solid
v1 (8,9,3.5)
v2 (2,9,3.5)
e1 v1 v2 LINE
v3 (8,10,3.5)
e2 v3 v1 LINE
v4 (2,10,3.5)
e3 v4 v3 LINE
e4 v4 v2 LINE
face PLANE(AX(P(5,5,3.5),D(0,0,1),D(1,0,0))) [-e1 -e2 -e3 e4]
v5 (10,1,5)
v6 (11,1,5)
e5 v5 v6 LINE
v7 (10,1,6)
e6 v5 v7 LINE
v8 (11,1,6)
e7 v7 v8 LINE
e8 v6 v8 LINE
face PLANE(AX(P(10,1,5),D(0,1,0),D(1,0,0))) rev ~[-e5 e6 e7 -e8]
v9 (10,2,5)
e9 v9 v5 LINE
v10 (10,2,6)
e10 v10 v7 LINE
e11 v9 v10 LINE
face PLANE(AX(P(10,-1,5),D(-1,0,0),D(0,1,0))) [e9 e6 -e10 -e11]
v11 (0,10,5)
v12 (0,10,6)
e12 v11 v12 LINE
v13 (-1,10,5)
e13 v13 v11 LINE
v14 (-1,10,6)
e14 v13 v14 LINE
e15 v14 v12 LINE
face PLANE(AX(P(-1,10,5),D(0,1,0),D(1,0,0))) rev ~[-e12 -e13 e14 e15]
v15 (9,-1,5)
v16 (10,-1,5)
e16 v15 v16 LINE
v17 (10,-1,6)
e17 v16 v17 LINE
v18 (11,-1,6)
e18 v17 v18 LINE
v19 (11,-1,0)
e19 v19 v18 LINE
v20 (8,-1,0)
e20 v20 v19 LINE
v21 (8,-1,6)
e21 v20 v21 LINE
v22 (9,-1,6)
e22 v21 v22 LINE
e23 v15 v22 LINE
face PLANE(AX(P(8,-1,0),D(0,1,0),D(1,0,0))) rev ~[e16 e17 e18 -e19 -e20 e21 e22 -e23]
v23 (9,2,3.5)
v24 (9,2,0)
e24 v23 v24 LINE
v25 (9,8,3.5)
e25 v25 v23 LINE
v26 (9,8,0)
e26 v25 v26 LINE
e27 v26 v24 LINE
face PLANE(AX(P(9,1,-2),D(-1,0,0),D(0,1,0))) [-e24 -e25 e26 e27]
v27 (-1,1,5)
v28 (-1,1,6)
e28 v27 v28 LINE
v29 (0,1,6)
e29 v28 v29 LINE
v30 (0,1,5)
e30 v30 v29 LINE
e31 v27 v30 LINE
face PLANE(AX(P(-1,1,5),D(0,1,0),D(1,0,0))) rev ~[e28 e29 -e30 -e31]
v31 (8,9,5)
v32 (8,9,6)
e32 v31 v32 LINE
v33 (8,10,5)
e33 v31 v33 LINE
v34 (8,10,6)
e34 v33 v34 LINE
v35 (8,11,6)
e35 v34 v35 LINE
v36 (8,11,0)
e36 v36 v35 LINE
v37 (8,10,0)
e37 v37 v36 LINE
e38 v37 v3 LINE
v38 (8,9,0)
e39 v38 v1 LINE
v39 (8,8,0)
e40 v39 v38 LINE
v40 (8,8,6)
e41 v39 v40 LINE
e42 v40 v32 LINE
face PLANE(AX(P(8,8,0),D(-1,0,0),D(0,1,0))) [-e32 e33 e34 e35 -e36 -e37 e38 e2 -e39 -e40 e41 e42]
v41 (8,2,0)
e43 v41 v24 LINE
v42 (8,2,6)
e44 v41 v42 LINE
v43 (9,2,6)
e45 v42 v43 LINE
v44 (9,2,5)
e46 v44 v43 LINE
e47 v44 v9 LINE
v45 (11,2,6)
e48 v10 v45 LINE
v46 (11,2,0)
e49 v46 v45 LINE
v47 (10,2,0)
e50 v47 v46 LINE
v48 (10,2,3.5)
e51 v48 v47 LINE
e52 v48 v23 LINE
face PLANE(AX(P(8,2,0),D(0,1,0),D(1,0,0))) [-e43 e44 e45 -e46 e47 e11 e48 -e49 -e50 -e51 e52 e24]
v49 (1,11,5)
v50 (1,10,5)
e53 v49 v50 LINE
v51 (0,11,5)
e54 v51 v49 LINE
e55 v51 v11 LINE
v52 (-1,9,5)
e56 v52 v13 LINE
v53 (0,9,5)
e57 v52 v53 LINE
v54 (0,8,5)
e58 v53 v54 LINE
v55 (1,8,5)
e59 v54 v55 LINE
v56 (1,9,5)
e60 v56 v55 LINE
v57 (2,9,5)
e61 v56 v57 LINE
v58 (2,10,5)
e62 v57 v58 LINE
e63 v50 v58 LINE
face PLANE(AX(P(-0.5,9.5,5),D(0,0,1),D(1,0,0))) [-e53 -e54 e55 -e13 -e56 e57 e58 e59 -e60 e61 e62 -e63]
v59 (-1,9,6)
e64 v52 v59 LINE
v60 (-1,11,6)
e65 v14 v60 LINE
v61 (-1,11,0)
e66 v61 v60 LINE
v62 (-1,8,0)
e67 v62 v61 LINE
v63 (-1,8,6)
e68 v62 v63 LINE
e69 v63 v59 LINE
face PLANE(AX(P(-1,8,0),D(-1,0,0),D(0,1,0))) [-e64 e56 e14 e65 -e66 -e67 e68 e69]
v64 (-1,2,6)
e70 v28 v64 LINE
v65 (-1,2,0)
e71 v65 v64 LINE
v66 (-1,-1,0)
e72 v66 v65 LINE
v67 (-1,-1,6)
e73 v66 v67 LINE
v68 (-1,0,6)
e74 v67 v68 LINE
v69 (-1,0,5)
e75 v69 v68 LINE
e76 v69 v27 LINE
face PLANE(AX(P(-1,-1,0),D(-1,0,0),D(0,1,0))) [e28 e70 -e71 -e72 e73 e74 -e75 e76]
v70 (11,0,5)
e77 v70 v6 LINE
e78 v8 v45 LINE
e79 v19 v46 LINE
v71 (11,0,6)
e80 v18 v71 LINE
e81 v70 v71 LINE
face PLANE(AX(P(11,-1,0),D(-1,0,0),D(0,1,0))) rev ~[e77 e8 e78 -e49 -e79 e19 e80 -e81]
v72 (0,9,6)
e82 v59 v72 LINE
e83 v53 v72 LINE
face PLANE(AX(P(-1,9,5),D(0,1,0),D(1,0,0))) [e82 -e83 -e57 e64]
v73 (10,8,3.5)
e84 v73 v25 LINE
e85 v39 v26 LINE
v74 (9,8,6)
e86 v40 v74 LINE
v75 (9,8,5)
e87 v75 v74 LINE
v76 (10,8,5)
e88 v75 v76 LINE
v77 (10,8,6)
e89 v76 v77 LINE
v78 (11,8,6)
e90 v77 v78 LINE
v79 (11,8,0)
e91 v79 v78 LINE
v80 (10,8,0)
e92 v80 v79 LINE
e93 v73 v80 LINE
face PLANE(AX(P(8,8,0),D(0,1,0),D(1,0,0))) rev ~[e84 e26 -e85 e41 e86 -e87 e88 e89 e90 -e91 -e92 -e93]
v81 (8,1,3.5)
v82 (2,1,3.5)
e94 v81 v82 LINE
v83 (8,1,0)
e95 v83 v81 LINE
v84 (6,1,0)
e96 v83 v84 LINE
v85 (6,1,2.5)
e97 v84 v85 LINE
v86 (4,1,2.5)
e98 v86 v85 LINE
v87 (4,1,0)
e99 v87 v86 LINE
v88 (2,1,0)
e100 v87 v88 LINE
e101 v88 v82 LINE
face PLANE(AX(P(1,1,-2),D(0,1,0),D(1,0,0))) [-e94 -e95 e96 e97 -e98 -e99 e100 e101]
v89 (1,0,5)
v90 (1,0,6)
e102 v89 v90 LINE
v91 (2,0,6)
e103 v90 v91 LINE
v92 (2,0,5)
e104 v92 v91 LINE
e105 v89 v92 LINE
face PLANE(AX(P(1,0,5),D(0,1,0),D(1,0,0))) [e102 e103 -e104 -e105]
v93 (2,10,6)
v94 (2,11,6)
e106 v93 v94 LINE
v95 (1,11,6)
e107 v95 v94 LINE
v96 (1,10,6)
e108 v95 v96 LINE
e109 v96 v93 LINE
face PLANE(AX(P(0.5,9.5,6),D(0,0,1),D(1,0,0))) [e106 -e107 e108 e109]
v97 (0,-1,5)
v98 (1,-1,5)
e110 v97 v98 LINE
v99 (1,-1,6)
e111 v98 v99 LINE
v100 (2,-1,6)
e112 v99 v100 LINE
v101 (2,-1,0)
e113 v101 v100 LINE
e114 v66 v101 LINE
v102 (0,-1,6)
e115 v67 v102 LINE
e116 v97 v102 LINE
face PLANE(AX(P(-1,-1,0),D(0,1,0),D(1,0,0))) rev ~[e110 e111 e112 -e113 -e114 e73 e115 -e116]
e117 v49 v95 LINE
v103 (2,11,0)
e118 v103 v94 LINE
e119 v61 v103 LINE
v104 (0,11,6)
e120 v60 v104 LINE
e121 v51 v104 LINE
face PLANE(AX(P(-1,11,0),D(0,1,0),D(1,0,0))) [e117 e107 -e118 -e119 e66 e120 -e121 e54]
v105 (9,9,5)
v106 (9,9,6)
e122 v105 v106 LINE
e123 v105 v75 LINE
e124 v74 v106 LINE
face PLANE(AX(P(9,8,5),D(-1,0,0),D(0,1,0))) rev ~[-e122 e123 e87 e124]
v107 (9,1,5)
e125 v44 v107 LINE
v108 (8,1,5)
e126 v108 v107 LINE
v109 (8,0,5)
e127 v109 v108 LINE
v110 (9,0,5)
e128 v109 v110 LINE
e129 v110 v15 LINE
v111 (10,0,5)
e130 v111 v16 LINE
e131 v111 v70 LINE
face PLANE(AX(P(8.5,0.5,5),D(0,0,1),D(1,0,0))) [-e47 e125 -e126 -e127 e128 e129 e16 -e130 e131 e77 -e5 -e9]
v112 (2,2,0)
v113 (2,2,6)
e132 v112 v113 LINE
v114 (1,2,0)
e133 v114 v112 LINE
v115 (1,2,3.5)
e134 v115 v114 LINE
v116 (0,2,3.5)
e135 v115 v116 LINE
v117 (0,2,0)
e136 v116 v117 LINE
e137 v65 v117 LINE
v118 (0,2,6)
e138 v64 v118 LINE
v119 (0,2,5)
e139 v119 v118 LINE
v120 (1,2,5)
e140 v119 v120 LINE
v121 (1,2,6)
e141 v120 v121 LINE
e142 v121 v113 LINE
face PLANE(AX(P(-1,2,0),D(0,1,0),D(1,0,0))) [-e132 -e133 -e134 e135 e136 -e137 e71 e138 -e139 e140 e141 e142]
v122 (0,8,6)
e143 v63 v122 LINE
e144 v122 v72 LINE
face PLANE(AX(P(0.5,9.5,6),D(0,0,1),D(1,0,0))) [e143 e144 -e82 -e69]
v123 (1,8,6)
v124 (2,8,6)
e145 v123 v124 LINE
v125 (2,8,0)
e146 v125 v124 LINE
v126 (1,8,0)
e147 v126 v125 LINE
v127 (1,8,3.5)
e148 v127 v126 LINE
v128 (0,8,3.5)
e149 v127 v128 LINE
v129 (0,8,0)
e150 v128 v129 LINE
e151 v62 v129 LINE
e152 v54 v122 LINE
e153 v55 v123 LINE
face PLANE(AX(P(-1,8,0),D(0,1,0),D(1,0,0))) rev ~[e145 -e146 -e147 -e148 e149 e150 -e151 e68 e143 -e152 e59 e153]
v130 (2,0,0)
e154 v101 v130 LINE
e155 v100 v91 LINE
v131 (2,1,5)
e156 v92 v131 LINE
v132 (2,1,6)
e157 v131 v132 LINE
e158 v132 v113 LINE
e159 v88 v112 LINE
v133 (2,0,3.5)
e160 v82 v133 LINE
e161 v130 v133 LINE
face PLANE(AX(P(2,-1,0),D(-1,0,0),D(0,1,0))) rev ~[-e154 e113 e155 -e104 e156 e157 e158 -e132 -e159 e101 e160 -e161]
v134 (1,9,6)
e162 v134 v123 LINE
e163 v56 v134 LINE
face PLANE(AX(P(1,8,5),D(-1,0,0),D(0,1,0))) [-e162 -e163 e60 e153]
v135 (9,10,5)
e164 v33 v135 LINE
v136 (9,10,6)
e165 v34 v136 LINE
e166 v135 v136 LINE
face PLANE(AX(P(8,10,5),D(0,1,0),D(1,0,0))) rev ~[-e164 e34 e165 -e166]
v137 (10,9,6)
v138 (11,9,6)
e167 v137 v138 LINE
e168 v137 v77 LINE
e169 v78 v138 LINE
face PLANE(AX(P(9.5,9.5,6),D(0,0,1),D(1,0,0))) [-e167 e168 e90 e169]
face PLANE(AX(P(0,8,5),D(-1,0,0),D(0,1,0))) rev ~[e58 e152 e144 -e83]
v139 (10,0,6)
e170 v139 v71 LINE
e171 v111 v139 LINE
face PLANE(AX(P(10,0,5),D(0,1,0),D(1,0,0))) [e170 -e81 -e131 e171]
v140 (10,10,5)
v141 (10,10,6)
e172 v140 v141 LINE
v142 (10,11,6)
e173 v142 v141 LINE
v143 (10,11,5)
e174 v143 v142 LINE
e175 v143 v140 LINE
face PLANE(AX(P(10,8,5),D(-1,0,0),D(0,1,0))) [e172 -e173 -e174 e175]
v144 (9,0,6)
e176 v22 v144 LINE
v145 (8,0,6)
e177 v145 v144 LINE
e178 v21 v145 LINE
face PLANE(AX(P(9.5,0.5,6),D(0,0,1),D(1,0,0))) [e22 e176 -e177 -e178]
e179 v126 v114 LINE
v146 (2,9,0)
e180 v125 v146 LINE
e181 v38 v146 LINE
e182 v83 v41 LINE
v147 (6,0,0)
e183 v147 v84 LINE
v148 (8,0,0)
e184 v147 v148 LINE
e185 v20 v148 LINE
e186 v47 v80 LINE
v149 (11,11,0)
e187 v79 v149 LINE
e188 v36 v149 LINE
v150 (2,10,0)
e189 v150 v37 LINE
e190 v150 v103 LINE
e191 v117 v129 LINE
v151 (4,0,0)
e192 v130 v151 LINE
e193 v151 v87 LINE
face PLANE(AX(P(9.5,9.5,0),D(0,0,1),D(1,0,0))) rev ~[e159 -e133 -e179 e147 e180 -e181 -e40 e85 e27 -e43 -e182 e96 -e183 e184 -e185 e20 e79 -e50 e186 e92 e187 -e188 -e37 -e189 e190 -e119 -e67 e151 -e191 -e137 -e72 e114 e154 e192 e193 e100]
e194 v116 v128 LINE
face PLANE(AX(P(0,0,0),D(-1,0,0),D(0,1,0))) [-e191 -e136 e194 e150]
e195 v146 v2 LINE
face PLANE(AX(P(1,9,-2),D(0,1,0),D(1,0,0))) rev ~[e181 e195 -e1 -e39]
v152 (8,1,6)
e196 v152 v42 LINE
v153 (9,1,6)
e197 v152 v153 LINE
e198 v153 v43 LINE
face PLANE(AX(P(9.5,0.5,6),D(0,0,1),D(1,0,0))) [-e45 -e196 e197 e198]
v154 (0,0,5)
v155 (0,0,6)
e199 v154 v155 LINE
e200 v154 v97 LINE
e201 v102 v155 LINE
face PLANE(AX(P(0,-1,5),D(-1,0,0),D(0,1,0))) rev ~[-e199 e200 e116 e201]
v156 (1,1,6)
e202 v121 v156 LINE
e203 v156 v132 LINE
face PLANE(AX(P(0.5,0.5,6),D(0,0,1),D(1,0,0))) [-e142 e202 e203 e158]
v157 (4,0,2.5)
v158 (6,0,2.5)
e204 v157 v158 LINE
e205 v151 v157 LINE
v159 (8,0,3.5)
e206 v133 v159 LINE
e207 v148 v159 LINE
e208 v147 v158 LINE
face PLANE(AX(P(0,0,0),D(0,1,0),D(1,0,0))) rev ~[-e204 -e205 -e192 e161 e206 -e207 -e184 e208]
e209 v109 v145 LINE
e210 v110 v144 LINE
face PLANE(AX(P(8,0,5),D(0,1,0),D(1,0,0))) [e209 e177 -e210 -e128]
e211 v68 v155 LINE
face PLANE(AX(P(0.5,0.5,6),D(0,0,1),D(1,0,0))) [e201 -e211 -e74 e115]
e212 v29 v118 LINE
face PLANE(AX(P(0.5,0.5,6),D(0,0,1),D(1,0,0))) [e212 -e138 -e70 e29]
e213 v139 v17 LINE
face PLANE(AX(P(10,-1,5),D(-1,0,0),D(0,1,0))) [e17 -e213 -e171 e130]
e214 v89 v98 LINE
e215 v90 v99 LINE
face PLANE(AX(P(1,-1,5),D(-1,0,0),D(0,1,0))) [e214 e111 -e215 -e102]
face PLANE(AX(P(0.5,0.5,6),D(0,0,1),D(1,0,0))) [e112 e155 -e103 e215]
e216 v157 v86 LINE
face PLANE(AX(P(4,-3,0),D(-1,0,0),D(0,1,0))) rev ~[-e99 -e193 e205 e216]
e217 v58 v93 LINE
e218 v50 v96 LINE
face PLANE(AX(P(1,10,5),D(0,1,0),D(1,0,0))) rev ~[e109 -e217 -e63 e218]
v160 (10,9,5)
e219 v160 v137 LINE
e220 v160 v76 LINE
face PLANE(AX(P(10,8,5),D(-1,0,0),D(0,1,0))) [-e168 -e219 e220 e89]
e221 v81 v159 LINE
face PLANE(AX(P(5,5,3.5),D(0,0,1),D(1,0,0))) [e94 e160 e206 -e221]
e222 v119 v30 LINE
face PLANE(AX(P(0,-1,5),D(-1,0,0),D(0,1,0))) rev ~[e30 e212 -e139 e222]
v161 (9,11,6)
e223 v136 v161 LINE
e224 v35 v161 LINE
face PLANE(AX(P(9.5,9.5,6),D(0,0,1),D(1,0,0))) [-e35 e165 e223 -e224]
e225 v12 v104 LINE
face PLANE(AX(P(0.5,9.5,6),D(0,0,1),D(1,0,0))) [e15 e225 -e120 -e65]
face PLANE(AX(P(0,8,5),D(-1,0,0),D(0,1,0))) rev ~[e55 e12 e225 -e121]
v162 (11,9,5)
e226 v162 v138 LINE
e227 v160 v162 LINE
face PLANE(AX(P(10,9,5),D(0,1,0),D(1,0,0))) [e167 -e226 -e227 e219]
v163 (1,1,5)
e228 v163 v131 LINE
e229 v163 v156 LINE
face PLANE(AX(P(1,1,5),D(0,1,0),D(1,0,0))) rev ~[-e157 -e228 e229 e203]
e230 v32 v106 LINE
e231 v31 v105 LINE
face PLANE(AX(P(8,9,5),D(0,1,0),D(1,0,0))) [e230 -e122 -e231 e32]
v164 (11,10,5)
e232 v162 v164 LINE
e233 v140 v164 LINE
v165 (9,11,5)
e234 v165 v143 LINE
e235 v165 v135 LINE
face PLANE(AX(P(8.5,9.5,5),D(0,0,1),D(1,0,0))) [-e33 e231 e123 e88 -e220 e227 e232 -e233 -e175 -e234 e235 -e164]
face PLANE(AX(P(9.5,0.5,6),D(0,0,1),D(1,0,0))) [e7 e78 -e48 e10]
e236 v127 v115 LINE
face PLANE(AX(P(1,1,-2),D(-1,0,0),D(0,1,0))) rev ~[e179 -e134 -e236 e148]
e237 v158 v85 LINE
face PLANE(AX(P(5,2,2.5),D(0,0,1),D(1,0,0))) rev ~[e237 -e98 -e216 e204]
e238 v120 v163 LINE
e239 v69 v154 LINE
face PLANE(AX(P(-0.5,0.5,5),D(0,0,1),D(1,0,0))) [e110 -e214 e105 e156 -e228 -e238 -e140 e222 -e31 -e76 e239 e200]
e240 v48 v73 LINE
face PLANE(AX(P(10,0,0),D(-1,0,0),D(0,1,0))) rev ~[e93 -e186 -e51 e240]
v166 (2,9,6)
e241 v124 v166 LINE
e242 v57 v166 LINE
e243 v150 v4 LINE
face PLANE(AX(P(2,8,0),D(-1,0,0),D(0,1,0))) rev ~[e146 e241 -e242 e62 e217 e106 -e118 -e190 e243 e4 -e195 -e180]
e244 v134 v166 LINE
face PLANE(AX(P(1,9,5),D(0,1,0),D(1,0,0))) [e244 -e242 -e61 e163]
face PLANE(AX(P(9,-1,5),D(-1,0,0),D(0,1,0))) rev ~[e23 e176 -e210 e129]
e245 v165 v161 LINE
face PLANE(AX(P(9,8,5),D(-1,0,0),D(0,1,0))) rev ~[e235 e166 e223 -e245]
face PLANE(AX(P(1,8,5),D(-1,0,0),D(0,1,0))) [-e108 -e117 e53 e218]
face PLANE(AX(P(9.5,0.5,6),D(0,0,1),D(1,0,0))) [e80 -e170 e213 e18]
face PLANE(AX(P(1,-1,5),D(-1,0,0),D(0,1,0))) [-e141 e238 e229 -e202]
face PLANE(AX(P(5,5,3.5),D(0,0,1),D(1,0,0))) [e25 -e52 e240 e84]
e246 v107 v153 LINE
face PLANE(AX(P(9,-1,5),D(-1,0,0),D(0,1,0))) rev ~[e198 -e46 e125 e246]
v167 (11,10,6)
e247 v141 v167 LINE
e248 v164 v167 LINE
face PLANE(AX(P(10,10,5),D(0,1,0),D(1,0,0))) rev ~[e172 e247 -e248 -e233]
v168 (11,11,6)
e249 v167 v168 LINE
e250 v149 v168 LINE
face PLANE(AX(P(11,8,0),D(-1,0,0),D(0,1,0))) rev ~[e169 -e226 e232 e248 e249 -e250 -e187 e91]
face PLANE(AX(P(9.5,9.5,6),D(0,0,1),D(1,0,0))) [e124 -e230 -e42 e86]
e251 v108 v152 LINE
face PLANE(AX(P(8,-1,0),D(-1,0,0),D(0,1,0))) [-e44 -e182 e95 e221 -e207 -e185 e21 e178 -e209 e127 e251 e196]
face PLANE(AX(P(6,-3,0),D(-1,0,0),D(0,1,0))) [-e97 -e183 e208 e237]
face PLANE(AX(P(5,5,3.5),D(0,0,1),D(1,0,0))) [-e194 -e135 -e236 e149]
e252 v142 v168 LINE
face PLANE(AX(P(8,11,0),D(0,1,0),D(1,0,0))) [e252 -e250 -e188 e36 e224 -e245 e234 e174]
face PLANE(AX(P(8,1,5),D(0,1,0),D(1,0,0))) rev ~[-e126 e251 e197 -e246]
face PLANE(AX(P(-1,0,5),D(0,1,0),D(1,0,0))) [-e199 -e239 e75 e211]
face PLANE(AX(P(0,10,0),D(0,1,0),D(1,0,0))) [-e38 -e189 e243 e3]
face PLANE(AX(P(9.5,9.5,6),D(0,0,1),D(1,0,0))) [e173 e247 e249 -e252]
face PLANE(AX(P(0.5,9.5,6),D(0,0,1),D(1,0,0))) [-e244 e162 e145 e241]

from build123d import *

# Parameters (mm, degrees)
BOX009_W     = 1
BOX009_H     = 1
BOX009_DEPTH = 1
BOX008_W     = 1
BOX008_H     = 1
BOX008_DEPTH = 1
BOX007_W     = 1
BOX007_H     = 1
BOX007_DEPTH = 1
BOX006_W     = 1
BOX006_H     = 1
BOX006_DEPTH = 1
BOX005_W     = 1
BOX005_H     = 1
BOX005_DEPTH = 1
BOX003_W     = 3
BOX003_H     = 3
BOX003_DEPTH = 6
BOX015_W     = 1
BOX015_H     = 1
BOX015_DEPTH = 1
BOX014_W     = 1
BOX014_H     = 1
BOX014_DEPTH = 1
BOX013_W     = 1
BOX013_H     = 1
BOX013_DEPTH = 1
BOX012_W     = 1
BOX012_H     = 1
BOX012_DEPTH = 1
BOX011_W     = 1
BOX011_H     = 1
BOX011_DEPTH = 1
BOX010_W     = 3
BOX010_H     = 3
BOX010_DEPTH = 6
BOX021_W     = 1
BOX021_H     = 1
BOX021_DEPTH = 1
BOX020_W     = 1
BOX020_H     = 1
BOX020_DEPTH = 1
BOX019_W     = 1
BOX019_H     = 1
BOX019_DEPTH = 1
BOX018_W     = 1
BOX018_H     = 1
BOX018_DEPTH = 1
BOX017_W     = 1
BOX017_H     = 1
BOX017_DEPTH = 1
BOX016_W     = 3
BOX016_H     = 3
BOX016_DEPTH = 6
BOX027_W     = 1
BOX027_H     = 1
BOX027_DEPTH = 1
BOX026_W     = 1
BOX026_H     = 1
BOX026_DEPTH = 1
BOX025_W     = 1
BOX025_H     = 1
BOX025_DEPTH = 1
BOX024_W     = 1
BOX024_H     = 1
BOX024_DEPTH = 1
BOX023_W     = 1
BOX023_H     = 1
BOX023_DEPTH = 1
BOX022_W     = 3
BOX022_H     = 3
BOX022_DEPTH = 6
BOX002_W     = 2
BOX002_H     = 10
BOX002_DEPTH = 2.5
BOX001_W     = 8
BOX001_H     = 8
BOX001_DEPTH = 10
BOX_W        = 10
BOX_H        = 10
BOX_DEPTH    = 3.5


with BuildPart() as cubo009:
    # Box009 → Box009 (new body)
    with BuildSketch(Plane(origin=(-2, 1, 5), x_dir=(1, 0, 0), z_dir=(0, 0, 1))):
        with Locations((0.5, 0.5)):
            Rectangle(BOX009_W, BOX009_H)
    extrude(amount=BOX009_DEPTH)


with BuildPart() as cubo008:
    # Box008 → Box008 (new body)
    with BuildSketch(Plane(origin=(-4, 1, 5), x_dir=(1, 0, 0), z_dir=(0, 0, 1))):
        with Locations((0.5, 0.5)):
            Rectangle(BOX008_W, BOX008_H)
    extrude(amount=BOX008_DEPTH)


with BuildPart() as cubo007:
    # Box007 → Box007 (new body)
    with BuildSketch(Plane(origin=(-3, 1, 5), x_dir=(1, 0, 0), z_dir=(0, 0, 1))):
        with Locations((0.5, 0.5)):
            Rectangle(BOX007_W, BOX007_H)
    extrude(amount=BOX007_DEPTH)


with BuildPart() as cubo006:
    # Box006 → Box006 (new body)
    with BuildSketch(Plane(origin=(-3, 2, 5), x_dir=(1, 0, 0), z_dir=(0, 0, 1))):
        with Locations((0.5, 0.5)):
            Rectangle(BOX006_W, BOX006_H)
    extrude(amount=BOX006_DEPTH)


with BuildPart() as cubo005:
    # Box005 → Box005 (new body)
    with BuildSketch(Plane(origin=(-3, 0, 5), x_dir=(1, 0, 0), z_dir=(0, 0, 1))):
        with Locations((0.5, 0.5)):
            Rectangle(BOX005_W, BOX005_H)
    extrude(amount=BOX005_DEPTH)


with BuildPart() as cut006:
    # Box003 → Box003 (new body)
    with BuildSketch(Plane(origin=(-4, 0, 0), x_dir=(1, 0, 0), z_dir=(0, 0, 1))):
        with Locations((1.5, 1.5)):
            Rectangle(BOX003_W, BOX003_H)
    extrude(amount=BOX003_DEPTH)

    # Cut002: cut Cubo005
    add(cubo005.part, mode=Mode.SUBTRACT)

    # Cut003: cut Cubo006
    add(cubo006.part, mode=Mode.SUBTRACT)

    # Cut004: cut Cubo007
    add(cubo007.part, mode=Mode.SUBTRACT)

    # Cut005: cut Cubo008
    add(cubo008.part, mode=Mode.SUBTRACT)

    # Cut006: cut Cubo009
    add(cubo009.part, mode=Mode.SUBTRACT)


with BuildPart() as cut006_1:
    # Cut006 placement: moved
    add(cut006.part.moved(Location((12, -1, 0))))


with BuildPart() as cubo015:
    # Box015 → Box015 (new body)
    with BuildSketch(Plane(origin=(-2, 1, 5), x_dir=(1, 0, 0), z_dir=(0, 0, 1))):
        with Locations((0.5, 0.5)):
            Rectangle(BOX015_W, BOX015_H)
    extrude(amount=BOX015_DEPTH)


with BuildPart() as cubo014:
    # Box014 → Box014 (new body)
    with BuildSketch(Plane(origin=(-4, 1, 5), x_dir=(1, 0, 0), z_dir=(0, 0, 1))):
        with Locations((0.5, 0.5)):
            Rectangle(BOX014_W, BOX014_H)
    extrude(amount=BOX014_DEPTH)


with BuildPart() as cubo013:
    # Box013 → Box013 (new body)
    with BuildSketch(Plane(origin=(-3, 1, 5), x_dir=(1, 0, 0), z_dir=(0, 0, 1))):
        with Locations((0.5, 0.5)):
            Rectangle(BOX013_W, BOX013_H)
    extrude(amount=BOX013_DEPTH)


with BuildPart() as cubo012:
    # Box012 → Box012 (new body)
    with BuildSketch(Plane(origin=(-3, 2, 5), x_dir=(1, 0, 0), z_dir=(0, 0, 1))):
        with Locations((0.5, 0.5)):
            Rectangle(BOX012_W, BOX012_H)
    extrude(amount=BOX012_DEPTH)


with BuildPart() as cubo011:
    # Box011 → Box011 (new body)
    with BuildSketch(Plane(origin=(-3, 0, 5), x_dir=(1, 0, 0), z_dir=(0, 0, 1))):
        with Locations((0.5, 0.5)):
            Rectangle(BOX011_W, BOX011_H)
    extrude(amount=BOX011_DEPTH)


with BuildPart() as cut011:
    # Box010 → Box010 (new body)
    with BuildSketch(Plane(origin=(-4, 0, 0), x_dir=(1, 0, 0), z_dir=(0, 0, 1))):
        with Locations((1.5, 1.5)):
            Rectangle(BOX010_W, BOX010_H)
    extrude(amount=BOX010_DEPTH)

    # Cut007: cut Cubo011
    add(cubo011.part, mode=Mode.SUBTRACT)

    # Cut008: cut Cubo012
    add(cubo012.part, mode=Mode.SUBTRACT)

    # Cut009: cut Cubo013
    add(cubo013.part, mode=Mode.SUBTRACT)

    # Cut010: cut Cubo014
    add(cubo014.part, mode=Mode.SUBTRACT)

    # Cut011: cut Cubo015
    add(cubo015.part, mode=Mode.SUBTRACT)


with BuildPart() as cut011_1:
    # Cut011 placement: moved
    add(cut011.part.moved(Location((3, -1, 0))))


with BuildPart() as cubo021:
    # Box021 → Box021 (new body)
    with BuildSketch(Plane(origin=(-2, 1, 5), x_dir=(1, 0, 0), z_dir=(0, 0, 1))):
        with Locations((0.5, 0.5)):
            Rectangle(BOX021_W, BOX021_H)
    extrude(amount=BOX021_DEPTH)


with BuildPart() as cubo020:
    # Box020 → Box020 (new body)
    with BuildSketch(Plane(origin=(-4, 1, 5), x_dir=(1, 0, 0), z_dir=(0, 0, 1))):
        with Locations((0.5, 0.5)):
            Rectangle(BOX020_W, BOX020_H)
    extrude(amount=BOX020_DEPTH)


with BuildPart() as cubo019:
    # Box019 → Box019 (new body)
    with BuildSketch(Plane(origin=(-3, 1, 5), x_dir=(1, 0, 0), z_dir=(0, 0, 1))):
        with Locations((0.5, 0.5)):
            Rectangle(BOX019_W, BOX019_H)
    extrude(amount=BOX019_DEPTH)


with BuildPart() as cubo018:
    # Box018 → Box018 (new body)
    with BuildSketch(Plane(origin=(-3, 2, 5), x_dir=(1, 0, 0), z_dir=(0, 0, 1))):
        with Locations((0.5, 0.5)):
            Rectangle(BOX018_W, BOX018_H)
    extrude(amount=BOX018_DEPTH)


with BuildPart() as cubo017:
    # Box017 → Box017 (new body)
    with BuildSketch(Plane(origin=(-3, 0, 5), x_dir=(1, 0, 0), z_dir=(0, 0, 1))):
        with Locations((0.5, 0.5)):
            Rectangle(BOX017_W, BOX017_H)
    extrude(amount=BOX017_DEPTH)


with BuildPart() as cut016:
    # Box016 → Box016 (new body)
    with BuildSketch(Plane(origin=(-4, 0, 0), x_dir=(1, 0, 0), z_dir=(0, 0, 1))):
        with Locations((1.5, 1.5)):
            Rectangle(BOX016_W, BOX016_H)
    extrude(amount=BOX016_DEPTH)

    # Cut012: cut Cubo017
    add(cubo017.part, mode=Mode.SUBTRACT)

    # Cut013: cut Cubo018
    add(cubo018.part, mode=Mode.SUBTRACT)

    # Cut014: cut Cubo019
    add(cubo019.part, mode=Mode.SUBTRACT)

    # Cut015: cut Cubo020
    add(cubo020.part, mode=Mode.SUBTRACT)

    # Cut016: cut Cubo021
    add(cubo021.part, mode=Mode.SUBTRACT)


with BuildPart() as cut016_1:
    # Cut016 placement: moved
    add(cut016.part.moved(Location((3, 8, 0))))


with BuildPart() as cubo027:
    # Box027 → Box027 (new body)
    with BuildSketch(Plane(origin=(-2, 1, 5), x_dir=(1, 0, 0), z_dir=(0, 0, 1))):
        with Locations((0.5, 0.5)):
            Rectangle(BOX027_W, BOX027_H)
    extrude(amount=BOX027_DEPTH)


with BuildPart() as cubo026:
    # Box026 → Box026 (new body)
    with BuildSketch(Plane(origin=(-4, 1, 5), x_dir=(1, 0, 0), z_dir=(0, 0, 1))):
        with Locations((0.5, 0.5)):
            Rectangle(BOX026_W, BOX026_H)
    extrude(amount=BOX026_DEPTH)


with BuildPart() as cubo025:
    # Box025 → Box025 (new body)
    with BuildSketch(Plane(origin=(-3, 1, 5), x_dir=(1, 0, 0), z_dir=(0, 0, 1))):
        with Locations((0.5, 0.5)):
            Rectangle(BOX025_W, BOX025_H)
    extrude(amount=BOX025_DEPTH)


with BuildPart() as cubo024:
    # Box024 → Box024 (new body)
    with BuildSketch(Plane(origin=(-3, 2, 5), x_dir=(1, 0, 0), z_dir=(0, 0, 1))):
        with Locations((0.5, 0.5)):
            Rectangle(BOX024_W, BOX024_H)
    extrude(amount=BOX024_DEPTH)


with BuildPart() as cubo023:
    # Box023 → Box023 (new body)
    with BuildSketch(Plane(origin=(-3, 0, 5), x_dir=(1, 0, 0), z_dir=(0, 0, 1))):
        with Locations((0.5, 0.5)):
            Rectangle(BOX023_W, BOX023_H)
    extrude(amount=BOX023_DEPTH)


with BuildPart() as cut021:
    # Box022 → Box022 (new body)
    with BuildSketch(Plane(origin=(-4, 0, 0), x_dir=(1, 0, 0), z_dir=(0, 0, 1))):
        with Locations((1.5, 1.5)):
            Rectangle(BOX022_W, BOX022_H)
    extrude(amount=BOX022_DEPTH)

    # Cut017: cut Cubo023
    add(cubo023.part, mode=Mode.SUBTRACT)

    # Cut018: cut Cubo024
    add(cubo024.part, mode=Mode.SUBTRACT)

    # Cut019: cut Cubo025
    add(cubo025.part, mode=Mode.SUBTRACT)

    # Cut020: cut Cubo026
    add(cubo026.part, mode=Mode.SUBTRACT)

    # Cut021: cut Cubo027
    add(cubo027.part, mode=Mode.SUBTRACT)


with BuildPart() as cut021_1:
    # Cut021 placement: moved
    add(cut021.part.moved(Location((12, 8, 0))))


with BuildPart() as cubo002:
    # Box002 → Box002 (new body)
    with BuildSketch(Plane(origin=(4, -3, 0), x_dir=(1, 0, 0), z_dir=(0, 0, 1))):
        with Locations((1, 5)):
            Rectangle(BOX002_W, BOX002_H)
    extrude(amount=BOX002_DEPTH)


with BuildPart() as cubo001:
    # Box001 → Box001 (new body)
    with BuildSketch(Plane(origin=(1, 1, -2), x_dir=(1, 0, 0), z_dir=(0, 0, 1))):
        with Locations((4, 4)):
            Rectangle(BOX001_W, BOX001_H)
    extrude(amount=BOX001_DEPTH)


with BuildPart() as fusion:
    # Box → Box (new body)
    with BuildSketch(Plane.XY):
        with Locations((5, 5)):
            Rectangle(BOX_W, BOX_H)
    extrude(amount=BOX_DEPTH)

    # Cut: cut Cubo001
    add(cubo001.part, mode=Mode.SUBTRACT)

    # Cut001: cut Cubo002
    add(cubo002.part, mode=Mode.SUBTRACT)

    # Fusion: union Cut006, Cut011, Cut016, Cut021
    add(cut006_1.part)
    add(cut011_1.part)
    add(cut016_1.part)
    add(cut021_1.part)


solid = fusion.part
